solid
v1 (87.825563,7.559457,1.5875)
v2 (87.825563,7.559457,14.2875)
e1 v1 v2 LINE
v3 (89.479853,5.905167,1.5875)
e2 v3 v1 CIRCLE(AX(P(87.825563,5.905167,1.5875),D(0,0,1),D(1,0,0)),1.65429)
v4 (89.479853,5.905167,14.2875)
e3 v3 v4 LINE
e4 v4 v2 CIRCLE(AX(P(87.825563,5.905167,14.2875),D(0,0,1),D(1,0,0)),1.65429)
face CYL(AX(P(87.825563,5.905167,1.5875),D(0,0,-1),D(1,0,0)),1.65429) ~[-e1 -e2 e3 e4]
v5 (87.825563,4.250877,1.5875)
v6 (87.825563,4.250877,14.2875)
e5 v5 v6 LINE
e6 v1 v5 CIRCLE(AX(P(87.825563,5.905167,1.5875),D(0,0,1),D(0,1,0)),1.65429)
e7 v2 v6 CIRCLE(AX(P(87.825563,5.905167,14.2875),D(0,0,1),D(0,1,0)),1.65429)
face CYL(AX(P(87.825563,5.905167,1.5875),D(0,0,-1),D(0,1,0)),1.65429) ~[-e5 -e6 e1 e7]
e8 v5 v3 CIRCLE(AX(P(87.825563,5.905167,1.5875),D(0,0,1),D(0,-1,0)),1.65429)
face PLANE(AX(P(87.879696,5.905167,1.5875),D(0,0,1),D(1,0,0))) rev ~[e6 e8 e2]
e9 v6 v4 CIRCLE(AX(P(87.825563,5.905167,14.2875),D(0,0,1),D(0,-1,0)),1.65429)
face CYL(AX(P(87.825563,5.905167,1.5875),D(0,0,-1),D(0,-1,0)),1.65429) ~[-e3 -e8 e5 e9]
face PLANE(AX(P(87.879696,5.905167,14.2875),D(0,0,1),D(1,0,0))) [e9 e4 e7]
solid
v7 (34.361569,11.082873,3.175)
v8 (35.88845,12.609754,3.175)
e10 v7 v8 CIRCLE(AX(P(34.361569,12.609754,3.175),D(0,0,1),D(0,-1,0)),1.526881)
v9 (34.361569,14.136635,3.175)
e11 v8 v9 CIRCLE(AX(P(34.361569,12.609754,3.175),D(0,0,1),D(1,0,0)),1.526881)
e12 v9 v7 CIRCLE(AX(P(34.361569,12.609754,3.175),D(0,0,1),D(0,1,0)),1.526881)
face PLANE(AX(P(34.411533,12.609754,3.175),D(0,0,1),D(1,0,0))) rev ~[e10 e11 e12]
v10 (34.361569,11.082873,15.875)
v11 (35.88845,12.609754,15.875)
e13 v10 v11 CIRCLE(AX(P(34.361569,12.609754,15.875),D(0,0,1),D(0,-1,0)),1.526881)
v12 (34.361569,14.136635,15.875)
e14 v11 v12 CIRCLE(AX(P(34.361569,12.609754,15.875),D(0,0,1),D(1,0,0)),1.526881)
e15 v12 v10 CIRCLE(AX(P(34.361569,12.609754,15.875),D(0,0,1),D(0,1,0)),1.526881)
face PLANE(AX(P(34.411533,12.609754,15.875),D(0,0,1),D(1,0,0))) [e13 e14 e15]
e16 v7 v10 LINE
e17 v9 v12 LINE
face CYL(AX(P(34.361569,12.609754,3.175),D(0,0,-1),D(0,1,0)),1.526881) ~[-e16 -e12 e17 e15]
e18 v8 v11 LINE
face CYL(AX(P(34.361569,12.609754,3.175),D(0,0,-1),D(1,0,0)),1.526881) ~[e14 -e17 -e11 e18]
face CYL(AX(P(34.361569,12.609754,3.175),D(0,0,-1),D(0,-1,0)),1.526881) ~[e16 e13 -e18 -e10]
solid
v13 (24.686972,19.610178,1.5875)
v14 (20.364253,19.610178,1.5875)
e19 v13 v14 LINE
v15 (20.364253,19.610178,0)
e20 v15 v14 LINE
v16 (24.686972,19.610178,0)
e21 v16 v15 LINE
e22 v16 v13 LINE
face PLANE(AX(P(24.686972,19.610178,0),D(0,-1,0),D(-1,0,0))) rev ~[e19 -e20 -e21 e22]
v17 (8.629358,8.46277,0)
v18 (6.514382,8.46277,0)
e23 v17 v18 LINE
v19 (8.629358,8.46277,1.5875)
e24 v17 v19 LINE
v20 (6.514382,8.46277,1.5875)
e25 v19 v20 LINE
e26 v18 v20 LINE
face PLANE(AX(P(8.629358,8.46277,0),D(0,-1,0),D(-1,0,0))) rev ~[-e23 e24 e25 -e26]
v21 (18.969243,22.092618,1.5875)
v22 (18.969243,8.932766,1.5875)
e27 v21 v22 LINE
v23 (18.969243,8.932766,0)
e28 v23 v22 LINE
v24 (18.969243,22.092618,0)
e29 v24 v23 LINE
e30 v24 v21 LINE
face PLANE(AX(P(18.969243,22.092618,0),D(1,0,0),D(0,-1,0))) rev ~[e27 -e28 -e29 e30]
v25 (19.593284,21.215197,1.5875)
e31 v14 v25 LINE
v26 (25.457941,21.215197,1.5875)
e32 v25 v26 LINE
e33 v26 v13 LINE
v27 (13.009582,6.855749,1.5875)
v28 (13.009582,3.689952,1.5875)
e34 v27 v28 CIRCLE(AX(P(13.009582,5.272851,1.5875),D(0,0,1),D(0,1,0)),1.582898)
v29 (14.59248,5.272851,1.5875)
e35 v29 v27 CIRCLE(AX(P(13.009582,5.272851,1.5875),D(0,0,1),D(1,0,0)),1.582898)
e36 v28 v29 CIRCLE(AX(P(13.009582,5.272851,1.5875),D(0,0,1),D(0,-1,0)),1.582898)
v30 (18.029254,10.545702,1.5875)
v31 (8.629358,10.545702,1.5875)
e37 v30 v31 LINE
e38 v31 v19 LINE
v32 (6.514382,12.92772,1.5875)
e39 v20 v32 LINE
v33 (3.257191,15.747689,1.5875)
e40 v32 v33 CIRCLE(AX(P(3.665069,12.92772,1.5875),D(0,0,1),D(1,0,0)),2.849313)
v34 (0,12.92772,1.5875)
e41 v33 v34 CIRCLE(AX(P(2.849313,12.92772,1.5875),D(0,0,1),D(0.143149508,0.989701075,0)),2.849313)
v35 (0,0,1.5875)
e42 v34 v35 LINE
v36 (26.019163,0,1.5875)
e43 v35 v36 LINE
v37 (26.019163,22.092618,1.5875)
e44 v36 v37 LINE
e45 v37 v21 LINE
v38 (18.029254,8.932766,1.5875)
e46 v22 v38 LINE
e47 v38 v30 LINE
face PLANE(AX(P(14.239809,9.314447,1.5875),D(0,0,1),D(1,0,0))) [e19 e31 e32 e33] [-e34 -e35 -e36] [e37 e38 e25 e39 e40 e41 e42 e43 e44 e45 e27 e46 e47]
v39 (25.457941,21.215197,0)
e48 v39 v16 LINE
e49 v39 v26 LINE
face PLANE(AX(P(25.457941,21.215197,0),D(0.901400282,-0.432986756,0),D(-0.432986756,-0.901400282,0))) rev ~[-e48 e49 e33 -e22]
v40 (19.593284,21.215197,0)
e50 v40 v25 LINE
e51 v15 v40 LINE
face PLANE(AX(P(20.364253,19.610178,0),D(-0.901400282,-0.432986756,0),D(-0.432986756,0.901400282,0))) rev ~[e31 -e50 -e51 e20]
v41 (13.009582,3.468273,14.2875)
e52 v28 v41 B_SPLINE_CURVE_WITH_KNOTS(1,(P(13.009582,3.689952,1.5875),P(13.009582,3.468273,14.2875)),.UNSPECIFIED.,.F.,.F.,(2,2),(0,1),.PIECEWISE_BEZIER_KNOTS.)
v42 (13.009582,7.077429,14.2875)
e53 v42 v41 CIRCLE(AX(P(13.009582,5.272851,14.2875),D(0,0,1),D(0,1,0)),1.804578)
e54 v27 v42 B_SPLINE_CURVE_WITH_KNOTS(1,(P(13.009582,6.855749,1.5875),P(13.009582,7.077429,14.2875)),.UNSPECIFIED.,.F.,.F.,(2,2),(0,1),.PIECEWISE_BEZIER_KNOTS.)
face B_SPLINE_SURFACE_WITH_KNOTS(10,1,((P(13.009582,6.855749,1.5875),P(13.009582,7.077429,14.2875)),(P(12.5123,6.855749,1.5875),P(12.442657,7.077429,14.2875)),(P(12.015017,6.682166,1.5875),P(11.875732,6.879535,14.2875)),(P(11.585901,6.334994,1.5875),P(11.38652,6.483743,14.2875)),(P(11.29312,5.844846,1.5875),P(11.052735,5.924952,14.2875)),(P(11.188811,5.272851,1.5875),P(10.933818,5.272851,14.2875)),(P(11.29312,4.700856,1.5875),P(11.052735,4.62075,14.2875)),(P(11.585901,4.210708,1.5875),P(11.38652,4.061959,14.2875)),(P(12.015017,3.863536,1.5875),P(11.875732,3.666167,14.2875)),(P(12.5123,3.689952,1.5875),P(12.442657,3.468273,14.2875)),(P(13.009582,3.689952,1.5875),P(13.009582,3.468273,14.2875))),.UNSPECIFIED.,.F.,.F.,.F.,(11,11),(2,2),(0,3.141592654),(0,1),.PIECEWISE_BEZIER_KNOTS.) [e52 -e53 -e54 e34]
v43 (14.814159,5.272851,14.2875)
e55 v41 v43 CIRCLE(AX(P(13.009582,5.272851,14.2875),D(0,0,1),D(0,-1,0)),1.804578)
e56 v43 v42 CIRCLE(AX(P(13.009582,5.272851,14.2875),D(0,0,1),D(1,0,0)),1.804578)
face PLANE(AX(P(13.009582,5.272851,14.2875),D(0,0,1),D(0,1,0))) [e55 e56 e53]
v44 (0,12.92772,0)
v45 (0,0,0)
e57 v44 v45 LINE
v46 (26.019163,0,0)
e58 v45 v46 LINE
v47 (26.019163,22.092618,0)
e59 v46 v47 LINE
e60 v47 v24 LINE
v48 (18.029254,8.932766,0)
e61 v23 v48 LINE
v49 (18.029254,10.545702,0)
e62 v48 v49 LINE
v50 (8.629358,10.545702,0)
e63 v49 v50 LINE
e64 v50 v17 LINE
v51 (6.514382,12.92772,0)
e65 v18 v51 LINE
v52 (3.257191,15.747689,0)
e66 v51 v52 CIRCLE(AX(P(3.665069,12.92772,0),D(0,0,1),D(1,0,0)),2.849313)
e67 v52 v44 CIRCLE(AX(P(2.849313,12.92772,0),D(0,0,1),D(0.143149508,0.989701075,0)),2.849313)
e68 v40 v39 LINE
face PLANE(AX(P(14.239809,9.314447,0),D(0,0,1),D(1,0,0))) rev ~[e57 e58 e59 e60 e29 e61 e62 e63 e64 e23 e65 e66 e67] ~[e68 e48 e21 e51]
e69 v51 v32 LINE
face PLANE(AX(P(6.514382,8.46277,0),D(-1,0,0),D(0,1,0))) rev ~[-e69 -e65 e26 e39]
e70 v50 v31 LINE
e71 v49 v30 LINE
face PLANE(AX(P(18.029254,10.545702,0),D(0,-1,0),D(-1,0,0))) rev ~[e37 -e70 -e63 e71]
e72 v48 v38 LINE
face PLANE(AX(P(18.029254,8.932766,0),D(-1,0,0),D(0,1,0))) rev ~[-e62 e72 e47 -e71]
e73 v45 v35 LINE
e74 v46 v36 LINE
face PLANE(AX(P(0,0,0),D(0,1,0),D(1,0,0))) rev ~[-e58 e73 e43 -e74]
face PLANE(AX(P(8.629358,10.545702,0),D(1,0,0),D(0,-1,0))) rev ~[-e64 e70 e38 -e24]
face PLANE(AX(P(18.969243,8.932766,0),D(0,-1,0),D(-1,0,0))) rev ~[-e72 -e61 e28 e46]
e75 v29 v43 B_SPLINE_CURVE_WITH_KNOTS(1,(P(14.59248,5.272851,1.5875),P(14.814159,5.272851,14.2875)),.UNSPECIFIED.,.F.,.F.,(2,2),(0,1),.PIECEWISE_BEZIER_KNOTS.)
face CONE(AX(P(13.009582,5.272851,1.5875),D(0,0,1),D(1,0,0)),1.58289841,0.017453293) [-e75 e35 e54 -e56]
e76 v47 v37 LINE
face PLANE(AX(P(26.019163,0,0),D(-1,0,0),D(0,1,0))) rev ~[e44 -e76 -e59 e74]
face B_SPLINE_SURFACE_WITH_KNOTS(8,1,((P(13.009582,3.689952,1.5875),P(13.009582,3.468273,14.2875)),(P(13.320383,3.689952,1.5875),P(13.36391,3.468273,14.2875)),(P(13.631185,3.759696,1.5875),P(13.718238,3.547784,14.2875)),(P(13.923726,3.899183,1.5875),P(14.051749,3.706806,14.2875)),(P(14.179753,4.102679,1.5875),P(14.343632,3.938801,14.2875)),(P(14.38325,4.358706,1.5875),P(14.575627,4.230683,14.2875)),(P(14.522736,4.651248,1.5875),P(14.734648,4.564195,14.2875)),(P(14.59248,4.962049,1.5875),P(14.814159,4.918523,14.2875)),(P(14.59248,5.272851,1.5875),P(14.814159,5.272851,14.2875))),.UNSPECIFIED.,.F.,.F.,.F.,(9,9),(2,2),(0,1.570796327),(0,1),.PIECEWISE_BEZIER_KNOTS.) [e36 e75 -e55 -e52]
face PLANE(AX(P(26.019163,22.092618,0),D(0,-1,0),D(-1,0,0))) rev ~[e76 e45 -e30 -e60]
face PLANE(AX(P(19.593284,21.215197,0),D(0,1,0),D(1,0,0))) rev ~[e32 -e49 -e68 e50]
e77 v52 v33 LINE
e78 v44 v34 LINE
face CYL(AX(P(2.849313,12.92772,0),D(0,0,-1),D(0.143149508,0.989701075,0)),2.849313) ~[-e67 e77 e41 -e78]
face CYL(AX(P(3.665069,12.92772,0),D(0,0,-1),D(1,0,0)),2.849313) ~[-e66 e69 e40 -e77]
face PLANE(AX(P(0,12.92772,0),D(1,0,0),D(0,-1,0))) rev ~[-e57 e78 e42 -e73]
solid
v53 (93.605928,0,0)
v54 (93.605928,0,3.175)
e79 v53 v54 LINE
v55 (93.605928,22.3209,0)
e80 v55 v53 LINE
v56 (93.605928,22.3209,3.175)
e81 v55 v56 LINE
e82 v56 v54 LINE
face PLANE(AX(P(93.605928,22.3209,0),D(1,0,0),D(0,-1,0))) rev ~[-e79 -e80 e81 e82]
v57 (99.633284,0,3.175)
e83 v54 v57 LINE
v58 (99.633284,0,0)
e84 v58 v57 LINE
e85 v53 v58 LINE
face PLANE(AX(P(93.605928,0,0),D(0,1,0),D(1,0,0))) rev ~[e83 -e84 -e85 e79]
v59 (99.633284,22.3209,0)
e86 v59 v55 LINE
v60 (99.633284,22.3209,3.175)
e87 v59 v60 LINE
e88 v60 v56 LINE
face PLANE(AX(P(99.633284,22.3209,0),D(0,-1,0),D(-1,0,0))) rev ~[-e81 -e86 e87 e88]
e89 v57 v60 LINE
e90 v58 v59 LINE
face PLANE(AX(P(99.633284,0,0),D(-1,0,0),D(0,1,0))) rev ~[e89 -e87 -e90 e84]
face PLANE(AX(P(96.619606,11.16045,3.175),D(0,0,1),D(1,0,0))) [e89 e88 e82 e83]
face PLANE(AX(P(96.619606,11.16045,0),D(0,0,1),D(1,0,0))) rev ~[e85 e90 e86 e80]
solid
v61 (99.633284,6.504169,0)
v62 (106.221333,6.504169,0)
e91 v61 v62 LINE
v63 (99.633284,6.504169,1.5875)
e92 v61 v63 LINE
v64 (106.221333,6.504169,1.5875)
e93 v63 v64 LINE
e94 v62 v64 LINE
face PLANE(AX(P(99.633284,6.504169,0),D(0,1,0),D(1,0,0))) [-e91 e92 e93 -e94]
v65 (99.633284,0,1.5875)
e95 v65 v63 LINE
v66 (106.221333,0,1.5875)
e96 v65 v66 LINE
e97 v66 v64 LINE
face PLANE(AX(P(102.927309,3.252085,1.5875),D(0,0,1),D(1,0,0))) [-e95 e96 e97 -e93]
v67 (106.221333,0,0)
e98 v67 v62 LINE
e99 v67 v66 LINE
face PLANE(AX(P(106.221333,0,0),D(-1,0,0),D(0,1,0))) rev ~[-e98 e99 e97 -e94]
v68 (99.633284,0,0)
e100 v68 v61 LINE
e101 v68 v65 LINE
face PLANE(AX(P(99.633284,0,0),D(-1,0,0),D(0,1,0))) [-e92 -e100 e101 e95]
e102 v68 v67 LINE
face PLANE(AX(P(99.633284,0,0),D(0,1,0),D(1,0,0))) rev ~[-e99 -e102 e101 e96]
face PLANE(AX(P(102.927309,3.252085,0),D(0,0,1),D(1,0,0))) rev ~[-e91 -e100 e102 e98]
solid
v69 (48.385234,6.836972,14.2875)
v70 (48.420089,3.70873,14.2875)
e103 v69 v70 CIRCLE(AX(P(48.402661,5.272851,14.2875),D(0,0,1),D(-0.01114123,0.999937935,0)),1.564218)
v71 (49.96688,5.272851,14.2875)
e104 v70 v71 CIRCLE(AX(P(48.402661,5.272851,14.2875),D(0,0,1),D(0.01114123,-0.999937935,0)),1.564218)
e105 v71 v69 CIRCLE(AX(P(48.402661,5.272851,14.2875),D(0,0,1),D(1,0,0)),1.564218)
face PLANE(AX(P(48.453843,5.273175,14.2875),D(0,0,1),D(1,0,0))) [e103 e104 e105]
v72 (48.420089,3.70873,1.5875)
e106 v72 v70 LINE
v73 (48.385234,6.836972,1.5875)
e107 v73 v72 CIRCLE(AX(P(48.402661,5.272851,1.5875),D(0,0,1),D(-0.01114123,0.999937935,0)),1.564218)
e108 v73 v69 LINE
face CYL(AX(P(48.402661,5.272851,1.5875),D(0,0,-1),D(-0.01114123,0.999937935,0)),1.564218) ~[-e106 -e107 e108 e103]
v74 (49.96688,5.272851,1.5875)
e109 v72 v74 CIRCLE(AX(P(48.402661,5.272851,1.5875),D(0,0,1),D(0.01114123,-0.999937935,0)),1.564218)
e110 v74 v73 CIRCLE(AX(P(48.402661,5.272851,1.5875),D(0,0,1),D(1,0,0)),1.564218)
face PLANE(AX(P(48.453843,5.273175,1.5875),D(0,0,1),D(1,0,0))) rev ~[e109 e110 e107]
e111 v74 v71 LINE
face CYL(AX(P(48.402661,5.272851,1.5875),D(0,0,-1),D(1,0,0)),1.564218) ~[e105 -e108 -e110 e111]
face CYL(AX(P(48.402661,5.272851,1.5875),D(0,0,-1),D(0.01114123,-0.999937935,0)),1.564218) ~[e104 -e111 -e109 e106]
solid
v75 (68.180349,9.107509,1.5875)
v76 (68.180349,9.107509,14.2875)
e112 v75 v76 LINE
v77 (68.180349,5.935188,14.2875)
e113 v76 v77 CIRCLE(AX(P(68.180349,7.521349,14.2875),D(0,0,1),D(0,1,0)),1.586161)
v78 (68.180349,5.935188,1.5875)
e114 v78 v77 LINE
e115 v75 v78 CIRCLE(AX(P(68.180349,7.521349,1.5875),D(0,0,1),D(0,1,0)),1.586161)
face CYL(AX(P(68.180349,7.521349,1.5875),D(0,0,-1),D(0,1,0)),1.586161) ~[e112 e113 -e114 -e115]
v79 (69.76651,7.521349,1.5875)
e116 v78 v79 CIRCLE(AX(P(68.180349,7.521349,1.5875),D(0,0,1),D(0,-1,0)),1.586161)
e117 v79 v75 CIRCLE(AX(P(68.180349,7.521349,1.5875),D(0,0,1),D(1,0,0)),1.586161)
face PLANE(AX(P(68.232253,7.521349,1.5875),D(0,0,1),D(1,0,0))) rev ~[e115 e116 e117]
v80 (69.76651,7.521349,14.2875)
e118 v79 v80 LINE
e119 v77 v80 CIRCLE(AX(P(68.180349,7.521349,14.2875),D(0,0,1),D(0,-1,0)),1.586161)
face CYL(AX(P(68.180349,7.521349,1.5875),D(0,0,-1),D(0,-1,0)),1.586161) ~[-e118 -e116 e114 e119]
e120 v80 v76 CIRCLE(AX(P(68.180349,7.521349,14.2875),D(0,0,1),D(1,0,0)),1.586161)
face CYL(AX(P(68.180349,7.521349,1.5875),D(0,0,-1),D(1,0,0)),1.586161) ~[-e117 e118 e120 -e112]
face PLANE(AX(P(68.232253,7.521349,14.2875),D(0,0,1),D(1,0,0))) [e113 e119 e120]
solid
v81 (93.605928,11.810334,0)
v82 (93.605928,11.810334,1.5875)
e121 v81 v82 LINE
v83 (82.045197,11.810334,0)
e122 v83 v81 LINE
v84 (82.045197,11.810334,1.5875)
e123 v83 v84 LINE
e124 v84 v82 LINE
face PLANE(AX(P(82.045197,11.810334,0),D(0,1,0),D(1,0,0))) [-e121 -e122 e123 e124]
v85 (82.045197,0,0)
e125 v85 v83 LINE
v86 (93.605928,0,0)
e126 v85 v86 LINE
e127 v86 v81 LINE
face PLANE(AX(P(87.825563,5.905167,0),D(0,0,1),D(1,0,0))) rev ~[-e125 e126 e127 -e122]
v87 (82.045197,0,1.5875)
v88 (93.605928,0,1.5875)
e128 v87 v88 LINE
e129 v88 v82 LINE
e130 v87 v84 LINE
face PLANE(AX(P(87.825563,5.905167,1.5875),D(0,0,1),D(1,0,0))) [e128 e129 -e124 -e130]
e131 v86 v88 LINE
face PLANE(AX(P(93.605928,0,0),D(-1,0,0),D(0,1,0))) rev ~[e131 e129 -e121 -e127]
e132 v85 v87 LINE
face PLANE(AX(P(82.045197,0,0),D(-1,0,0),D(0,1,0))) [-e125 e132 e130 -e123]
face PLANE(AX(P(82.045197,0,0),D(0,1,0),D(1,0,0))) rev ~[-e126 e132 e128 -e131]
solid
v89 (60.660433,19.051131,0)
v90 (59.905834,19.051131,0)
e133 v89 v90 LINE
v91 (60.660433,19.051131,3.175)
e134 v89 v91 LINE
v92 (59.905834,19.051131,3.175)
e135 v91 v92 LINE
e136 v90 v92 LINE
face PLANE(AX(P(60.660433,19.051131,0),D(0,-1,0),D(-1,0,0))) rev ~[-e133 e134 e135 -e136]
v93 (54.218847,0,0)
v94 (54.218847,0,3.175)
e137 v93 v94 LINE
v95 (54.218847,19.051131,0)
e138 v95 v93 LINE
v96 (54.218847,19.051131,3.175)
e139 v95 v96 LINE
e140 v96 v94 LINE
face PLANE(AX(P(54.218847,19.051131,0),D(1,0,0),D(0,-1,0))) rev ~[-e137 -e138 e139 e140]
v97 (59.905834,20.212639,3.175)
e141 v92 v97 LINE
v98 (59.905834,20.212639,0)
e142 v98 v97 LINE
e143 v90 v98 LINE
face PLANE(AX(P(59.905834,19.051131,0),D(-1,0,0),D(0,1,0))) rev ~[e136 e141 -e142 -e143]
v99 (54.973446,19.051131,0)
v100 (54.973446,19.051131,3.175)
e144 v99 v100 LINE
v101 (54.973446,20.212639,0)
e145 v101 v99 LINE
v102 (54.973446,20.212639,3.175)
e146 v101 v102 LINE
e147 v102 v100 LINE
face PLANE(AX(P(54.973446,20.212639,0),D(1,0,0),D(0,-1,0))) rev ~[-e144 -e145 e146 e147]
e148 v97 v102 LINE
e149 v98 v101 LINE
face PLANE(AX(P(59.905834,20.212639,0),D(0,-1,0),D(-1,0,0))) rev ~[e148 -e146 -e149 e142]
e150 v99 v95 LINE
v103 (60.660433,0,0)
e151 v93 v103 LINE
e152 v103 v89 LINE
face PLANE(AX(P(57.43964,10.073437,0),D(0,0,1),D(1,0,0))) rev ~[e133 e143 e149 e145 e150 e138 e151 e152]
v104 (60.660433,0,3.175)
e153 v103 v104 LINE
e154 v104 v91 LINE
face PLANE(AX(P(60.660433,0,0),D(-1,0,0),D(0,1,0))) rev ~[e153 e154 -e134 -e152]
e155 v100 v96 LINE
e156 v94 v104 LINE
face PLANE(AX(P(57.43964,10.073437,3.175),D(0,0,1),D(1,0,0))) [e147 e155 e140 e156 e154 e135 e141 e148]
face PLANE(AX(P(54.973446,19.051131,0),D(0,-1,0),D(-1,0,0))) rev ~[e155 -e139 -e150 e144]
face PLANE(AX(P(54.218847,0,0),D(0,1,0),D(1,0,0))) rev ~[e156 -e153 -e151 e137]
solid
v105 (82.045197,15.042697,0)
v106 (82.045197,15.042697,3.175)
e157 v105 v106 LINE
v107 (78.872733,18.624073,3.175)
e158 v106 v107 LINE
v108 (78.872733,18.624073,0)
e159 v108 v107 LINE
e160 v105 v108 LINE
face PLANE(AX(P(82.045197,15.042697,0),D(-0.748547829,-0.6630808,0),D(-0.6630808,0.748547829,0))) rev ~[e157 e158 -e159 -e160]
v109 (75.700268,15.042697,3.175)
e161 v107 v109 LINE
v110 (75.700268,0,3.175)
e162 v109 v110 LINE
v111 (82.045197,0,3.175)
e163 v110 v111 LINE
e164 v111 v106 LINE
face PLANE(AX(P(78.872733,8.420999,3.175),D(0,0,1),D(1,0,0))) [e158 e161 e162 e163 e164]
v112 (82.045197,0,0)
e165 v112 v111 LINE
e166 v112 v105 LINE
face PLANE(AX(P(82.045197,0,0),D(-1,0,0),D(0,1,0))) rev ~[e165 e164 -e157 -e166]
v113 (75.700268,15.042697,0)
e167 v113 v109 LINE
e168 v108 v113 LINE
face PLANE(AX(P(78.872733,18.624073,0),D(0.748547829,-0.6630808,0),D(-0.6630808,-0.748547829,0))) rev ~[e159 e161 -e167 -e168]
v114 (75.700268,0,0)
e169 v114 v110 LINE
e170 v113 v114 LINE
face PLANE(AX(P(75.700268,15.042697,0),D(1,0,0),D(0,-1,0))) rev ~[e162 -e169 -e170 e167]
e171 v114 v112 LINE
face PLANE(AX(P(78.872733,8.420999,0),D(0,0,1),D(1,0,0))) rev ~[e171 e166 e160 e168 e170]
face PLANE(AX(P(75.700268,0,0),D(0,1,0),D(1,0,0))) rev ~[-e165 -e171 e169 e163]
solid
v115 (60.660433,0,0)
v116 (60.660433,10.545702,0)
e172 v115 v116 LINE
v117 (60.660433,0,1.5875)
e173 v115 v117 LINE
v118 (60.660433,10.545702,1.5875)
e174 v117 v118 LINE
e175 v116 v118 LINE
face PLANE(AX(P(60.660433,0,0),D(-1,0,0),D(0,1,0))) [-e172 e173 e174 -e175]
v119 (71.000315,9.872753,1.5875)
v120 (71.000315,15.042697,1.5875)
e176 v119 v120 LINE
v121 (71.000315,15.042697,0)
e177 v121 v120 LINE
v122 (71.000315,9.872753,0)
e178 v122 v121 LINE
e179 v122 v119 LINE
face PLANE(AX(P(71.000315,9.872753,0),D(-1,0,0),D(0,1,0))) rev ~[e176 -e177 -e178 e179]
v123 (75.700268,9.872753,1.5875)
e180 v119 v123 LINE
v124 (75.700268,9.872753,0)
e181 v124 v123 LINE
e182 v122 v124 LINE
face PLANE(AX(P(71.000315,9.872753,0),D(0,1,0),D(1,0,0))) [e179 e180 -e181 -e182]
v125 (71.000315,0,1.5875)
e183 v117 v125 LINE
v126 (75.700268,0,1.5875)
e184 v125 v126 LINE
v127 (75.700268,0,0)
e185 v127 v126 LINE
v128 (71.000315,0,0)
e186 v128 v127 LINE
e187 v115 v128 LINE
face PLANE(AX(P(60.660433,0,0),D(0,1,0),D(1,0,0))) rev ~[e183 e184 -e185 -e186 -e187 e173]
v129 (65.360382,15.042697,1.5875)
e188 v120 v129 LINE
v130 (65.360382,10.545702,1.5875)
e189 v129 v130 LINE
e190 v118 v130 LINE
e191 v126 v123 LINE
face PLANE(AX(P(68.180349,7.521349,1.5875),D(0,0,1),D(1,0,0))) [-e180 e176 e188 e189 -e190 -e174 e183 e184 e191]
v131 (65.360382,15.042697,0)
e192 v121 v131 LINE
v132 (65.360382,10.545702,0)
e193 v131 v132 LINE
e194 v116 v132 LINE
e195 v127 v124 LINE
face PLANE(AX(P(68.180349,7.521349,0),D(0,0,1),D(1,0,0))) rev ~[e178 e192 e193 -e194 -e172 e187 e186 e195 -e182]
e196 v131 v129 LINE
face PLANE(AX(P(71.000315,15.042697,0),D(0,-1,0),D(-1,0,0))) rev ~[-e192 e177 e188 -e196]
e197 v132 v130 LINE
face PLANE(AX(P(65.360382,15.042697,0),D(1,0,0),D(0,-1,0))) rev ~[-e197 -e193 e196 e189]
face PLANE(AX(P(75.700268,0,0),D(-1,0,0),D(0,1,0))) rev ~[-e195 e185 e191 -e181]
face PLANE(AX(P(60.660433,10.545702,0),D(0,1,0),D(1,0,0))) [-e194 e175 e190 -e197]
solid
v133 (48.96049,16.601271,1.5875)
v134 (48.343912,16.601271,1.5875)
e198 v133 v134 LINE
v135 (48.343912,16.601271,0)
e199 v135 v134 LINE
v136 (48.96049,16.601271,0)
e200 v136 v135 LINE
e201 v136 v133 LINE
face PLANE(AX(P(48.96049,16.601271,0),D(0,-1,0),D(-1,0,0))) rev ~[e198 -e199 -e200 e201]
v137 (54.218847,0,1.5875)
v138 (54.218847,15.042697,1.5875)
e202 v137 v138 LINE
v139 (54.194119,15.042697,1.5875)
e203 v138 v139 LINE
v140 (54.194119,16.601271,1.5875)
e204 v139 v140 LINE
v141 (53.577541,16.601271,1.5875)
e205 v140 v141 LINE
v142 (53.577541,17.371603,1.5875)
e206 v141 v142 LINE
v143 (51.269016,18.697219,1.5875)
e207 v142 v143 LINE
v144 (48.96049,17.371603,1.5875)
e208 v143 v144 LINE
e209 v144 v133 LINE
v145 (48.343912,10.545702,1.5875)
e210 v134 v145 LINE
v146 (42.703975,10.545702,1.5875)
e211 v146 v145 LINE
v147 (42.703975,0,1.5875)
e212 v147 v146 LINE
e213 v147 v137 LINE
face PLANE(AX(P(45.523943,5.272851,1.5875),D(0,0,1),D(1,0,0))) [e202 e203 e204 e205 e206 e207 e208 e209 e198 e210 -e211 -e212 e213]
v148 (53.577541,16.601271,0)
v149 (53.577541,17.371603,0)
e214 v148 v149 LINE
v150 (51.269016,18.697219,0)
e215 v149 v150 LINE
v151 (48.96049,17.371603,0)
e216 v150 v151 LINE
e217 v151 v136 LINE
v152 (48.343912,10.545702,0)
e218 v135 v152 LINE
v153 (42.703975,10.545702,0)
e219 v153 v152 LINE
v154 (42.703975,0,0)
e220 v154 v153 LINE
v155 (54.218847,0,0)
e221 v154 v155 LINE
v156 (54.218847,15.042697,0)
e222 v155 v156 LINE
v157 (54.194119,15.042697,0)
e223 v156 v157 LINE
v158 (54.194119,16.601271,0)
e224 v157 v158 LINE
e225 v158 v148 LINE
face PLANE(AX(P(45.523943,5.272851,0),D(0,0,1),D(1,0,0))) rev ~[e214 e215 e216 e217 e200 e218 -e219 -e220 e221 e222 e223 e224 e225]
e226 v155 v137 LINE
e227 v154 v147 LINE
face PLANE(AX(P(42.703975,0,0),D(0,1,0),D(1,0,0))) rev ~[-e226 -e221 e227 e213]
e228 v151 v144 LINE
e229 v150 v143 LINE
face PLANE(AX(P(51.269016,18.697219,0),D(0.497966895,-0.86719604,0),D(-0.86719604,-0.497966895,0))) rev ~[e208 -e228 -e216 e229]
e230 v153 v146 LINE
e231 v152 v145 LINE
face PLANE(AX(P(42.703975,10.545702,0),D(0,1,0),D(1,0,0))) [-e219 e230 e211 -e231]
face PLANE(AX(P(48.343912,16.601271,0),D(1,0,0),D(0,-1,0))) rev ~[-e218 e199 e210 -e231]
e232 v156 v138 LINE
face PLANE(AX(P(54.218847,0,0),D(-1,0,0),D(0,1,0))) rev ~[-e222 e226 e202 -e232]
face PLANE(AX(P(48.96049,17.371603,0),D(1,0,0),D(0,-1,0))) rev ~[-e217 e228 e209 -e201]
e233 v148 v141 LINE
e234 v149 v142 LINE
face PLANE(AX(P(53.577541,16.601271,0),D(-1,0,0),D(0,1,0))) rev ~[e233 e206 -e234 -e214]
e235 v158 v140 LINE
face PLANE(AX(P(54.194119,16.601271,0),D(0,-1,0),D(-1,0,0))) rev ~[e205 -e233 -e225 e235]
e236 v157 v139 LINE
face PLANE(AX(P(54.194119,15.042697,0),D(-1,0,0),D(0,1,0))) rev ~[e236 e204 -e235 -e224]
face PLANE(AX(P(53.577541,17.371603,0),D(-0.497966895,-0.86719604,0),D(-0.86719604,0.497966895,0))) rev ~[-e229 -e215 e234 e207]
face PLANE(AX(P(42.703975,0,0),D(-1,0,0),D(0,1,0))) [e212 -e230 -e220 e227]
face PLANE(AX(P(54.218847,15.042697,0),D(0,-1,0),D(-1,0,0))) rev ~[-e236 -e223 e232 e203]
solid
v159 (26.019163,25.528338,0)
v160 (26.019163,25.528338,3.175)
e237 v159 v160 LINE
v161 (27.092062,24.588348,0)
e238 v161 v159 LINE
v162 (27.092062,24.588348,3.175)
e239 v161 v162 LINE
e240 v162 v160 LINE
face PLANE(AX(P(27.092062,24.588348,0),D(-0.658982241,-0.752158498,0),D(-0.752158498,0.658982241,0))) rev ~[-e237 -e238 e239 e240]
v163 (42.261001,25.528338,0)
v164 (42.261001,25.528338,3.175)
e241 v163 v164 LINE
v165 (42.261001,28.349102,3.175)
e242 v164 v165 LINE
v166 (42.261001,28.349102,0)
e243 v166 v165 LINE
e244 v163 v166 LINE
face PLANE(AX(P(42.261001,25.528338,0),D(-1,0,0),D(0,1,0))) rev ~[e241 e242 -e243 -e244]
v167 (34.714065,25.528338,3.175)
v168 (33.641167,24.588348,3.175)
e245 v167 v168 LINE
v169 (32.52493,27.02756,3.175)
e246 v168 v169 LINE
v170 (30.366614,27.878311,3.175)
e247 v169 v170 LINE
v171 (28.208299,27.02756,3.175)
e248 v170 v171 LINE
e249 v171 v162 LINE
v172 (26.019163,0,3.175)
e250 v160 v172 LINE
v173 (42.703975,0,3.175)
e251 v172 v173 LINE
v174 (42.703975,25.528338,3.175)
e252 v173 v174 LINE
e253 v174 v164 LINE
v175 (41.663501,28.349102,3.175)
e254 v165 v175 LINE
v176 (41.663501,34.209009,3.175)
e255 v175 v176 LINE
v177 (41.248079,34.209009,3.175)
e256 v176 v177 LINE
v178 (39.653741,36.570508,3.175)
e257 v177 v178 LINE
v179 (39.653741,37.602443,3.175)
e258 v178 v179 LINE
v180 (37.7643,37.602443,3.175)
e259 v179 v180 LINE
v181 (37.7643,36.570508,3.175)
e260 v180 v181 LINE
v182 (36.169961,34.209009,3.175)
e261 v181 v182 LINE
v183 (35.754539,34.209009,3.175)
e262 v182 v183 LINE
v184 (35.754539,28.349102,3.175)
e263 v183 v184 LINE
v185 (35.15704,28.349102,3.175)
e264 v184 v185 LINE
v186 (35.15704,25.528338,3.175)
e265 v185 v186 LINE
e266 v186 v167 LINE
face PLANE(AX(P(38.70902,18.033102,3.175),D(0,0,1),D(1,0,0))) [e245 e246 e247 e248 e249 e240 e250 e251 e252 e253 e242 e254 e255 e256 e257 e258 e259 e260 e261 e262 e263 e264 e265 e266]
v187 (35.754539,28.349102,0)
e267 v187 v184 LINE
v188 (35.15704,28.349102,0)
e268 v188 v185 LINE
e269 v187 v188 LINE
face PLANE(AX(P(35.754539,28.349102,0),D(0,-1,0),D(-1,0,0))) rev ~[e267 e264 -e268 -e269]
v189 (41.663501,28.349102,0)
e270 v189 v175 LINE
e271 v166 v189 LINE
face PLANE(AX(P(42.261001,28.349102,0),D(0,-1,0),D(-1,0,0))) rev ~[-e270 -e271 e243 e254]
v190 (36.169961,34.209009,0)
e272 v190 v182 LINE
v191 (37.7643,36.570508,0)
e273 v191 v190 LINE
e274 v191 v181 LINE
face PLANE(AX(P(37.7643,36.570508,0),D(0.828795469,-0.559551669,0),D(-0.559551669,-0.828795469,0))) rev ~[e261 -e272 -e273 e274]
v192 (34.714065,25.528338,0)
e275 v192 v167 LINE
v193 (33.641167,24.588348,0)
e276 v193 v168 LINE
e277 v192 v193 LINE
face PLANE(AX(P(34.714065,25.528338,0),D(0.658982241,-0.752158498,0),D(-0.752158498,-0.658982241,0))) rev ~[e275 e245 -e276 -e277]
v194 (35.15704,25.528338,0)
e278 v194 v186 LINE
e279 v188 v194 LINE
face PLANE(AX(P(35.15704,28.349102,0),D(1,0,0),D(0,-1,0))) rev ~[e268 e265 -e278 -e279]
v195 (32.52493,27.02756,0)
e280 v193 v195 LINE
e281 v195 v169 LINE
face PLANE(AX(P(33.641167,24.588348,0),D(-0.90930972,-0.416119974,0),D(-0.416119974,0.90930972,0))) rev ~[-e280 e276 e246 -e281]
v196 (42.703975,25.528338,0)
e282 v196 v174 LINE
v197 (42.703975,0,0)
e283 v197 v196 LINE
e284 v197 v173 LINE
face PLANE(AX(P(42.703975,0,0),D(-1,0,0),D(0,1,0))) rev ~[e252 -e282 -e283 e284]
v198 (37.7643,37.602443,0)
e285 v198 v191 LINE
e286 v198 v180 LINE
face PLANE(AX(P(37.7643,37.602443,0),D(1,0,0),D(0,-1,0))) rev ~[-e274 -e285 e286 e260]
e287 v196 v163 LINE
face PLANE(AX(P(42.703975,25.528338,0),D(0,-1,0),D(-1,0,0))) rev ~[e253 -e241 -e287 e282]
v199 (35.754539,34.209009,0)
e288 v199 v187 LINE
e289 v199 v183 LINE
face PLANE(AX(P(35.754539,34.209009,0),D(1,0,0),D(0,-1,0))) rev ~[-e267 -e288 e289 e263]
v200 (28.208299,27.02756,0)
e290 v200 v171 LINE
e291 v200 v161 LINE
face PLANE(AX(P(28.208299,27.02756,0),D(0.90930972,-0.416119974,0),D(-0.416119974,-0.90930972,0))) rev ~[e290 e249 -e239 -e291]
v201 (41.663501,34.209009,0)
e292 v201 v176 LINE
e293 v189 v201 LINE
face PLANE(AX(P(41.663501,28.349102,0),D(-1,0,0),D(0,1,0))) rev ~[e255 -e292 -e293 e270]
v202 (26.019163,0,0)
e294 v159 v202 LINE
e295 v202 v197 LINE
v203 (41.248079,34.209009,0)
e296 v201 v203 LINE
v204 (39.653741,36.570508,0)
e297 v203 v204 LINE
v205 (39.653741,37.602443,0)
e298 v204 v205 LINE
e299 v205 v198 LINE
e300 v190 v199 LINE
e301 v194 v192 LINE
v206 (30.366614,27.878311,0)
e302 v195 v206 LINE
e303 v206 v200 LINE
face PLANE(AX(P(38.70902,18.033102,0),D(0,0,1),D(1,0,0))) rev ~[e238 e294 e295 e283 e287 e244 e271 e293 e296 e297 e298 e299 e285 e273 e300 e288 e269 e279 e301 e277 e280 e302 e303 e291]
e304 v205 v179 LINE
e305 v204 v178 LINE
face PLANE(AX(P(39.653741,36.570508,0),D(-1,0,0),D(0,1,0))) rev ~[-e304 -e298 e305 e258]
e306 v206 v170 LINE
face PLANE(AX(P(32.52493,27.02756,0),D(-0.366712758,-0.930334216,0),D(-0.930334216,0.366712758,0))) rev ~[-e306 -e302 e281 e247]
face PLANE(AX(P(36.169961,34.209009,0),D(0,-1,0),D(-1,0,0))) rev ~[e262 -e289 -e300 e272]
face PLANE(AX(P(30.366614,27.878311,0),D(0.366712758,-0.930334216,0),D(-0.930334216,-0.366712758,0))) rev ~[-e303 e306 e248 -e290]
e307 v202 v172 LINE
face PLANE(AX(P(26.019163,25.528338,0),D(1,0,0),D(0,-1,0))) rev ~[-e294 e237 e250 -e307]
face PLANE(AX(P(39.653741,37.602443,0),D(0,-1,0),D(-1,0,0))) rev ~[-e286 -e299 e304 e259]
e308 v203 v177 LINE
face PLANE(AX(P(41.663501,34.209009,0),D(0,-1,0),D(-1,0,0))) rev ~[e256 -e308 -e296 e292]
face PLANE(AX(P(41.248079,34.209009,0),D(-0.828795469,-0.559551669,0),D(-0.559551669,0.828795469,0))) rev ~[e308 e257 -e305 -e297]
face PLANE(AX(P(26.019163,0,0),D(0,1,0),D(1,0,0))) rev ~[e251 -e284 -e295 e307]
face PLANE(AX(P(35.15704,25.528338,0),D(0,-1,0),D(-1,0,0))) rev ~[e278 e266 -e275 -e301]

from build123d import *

# Parameters (mm, degrees)
F1_DEPTH = 3.175
F2_DEPTH = 1.5875
F0_W     = 5.639936775
F0_H     = 10.5457017198
F0_W_2   = 4.6999491751
F0_W_3   = 4.6999529004
F0_H_2   = 9.8727531731
F0_W_4   = 11.5607306361
F0_H_3   = 11.8103343993
F0_W_5   = 6.588049233
F0_H_4   = 6.5041691996
F8_DEPTH = 12.7
F8_TAPER = -1
F9_DEPTH = 12.7


with BuildPart() as f1:
    # F0 (on Top) → F1 (new body)
    with BuildSketch(Plane.XY):
        Polygon((34.7140654922, 25.5283378065), (34.7140654922, 0), (42.703974992, 0), (42.703974992, 10.5457017198), (42.703974992, 25.5283378065), (42.2610007226, 25.5283378065), (42.2610007226, 28.3491015434), (41.6635014117, 28.3491015434), (41.6635014117, 34.2090092599), (41.2480793893, 34.2090092599), (39.6537408233, 36.570508033), (39.6537408233, 37.602443248), (38.7090202421, 37.602443248), (37.7642996609, 37.602443248), (37.7642996609, 36.570508033), (36.1699610949, 34.2090092599), (35.7545390725, 34.2090092599), (35.7545390725, 28.3491015434), (35.1570397615, 28.3491015434), (35.1570397615, 25.5283378065), align=None)
        Polygon((26.0191634297, 22.0926180482), (26.0191634297, 0), (34.7140654922, 0), (34.7140654922, 25.5283378065), (33.641166985, 24.588348344), (32.5249303132, 27.027560398), (30.3666144609, 27.8783105314), (28.2082986087, 27.027560398), (27.0920619369, 24.588348344), (26.0191634297, 25.5283378065), align=None)
    extrude(amount=F1_DEPTH)


with BuildPart() as f1b:
    # F0 (on Top) → F1, piece 2 (new body)
    with BuildSketch(Plane.XY):
        Polygon((75.7002681494, 9.8727531731), (75.7002681494, 0), (82.0451974869, 0), (82.0451974869, 11.8103343993), (82.0451974869, 15.0426970795), (78.8727328181, 18.6240728945), (75.7002681494, 15.0426970795), align=None)
    extrude(amount=F1_DEPTH)


with BuildPart() as f1c:
    # F0 (on Top) → F1, piece 3 (new body)
    with BuildSketch(Plane.XY):
        Polygon((93.605928123, 11.8103343993), (93.605928123, 0), (99.6332839131, 0), (99.6332839131, 6.5041691996), (99.6332839131, 22.3209001124), (93.605928123, 22.3209001124), align=None)
    extrude(amount=F1_DEPTH)


with BuildPart() as f1d:
    # F0 (on Top) → F1, piece 4 (new body)
    with BuildSketch(Plane.XY):
        Polygon((54.2188473046, 15.0426970795), (54.2188473046, 0), (60.6604330242, 0), (60.6604330242, 10.5457017198), (60.6604330242, 15.0426970795), (60.6604330242, 19.051130861), (59.905834496, 19.051130861), (59.905834496, 20.2126391232), (54.9734458327, 20.2126391232), (54.9734458327, 19.051130861), (54.2188473046, 19.051130861), align=None)
    extrude(amount=F1_DEPTH)


with BuildPart() as f2:
    # F0 (on Top) → F2 (new body)
    with BuildSketch(Plane.XY):
        with BuildLine():
            Line((0, 12.9277203232), (0, 0))
            Line((0, 0), (5.3393961862, 0))
            Line((5.3393961862, 0), (6.514382083, 0))
            Line((6.514382083, 0), (8.6293583736, 0))
            Line((8.6293583736, 0), (16.6192688048, 0))
            Line((16.6192688048, 0), (18.0292539299, 0))
            Line((18.0292539299, 0), (18.9692433923, 0))
            Line((18.9692433923, 0), (26.0191634297, 0))
            Line((26.0191634297, 0), (26.0191634297, 22.0926180482))
            Line((26.0191634297, 22.0926180482), (18.9692433923, 22.0926180482))
            Line((18.9692433923, 22.0926180482), (18.9692433923, 8.9327655733))
            Line((18.9692433923, 8.9327655733), (18.0292539299, 8.9327655733))
            Line((18.0292539299, 8.9327655733), (18.0292539299, 10.5457017198))
            Line((18.0292539299, 10.5457017198), (8.6293583736, 10.5457017198))
            Line((8.6293583736, 10.5457017198), (8.6293583736, 8.4627699107))
            Line((8.6293583736, 8.4627699107), (6.514382083, 8.4627699107))
            Line((6.514382083, 8.4627699107), (6.514382083, 12.9277203232))
            ThreePointArc((6.514382083, 12.9277203232), (5.530064061, 15.0818741703), (3.2571910415, 15.7476887107))
            ThreePointArc((3.2571910415, 15.7476887107), (0.984318022, 15.0818741703), (0, 12.9277203232))
        make_face()
        Polygon((20.3642528504, 19.6101777256), (19.593283534, 21.2151966989), (25.4579409957, 21.2151966989), (24.6869716793, 19.6101777256), align=None, mode=Mode.SUBTRACT)
    extrude(amount=F2_DEPTH)

    # F3 (on face) → F8 (join)
    with BuildSketch(Plane.XY.offset(1.5875)):
        with BuildLine():
            ThreePointArc((13.0095817149, 6.8557492698), (11.426683305, 5.2728508599), (13.0095817149, 3.68995245))
            ThreePointArc((13.0095817149, 3.68995245), (14.1288599144, 4.1535726604), (14.5924801248, 5.2728508599))
            ThreePointArc((14.5924801248, 5.2728508599), (14.1288599144, 6.3921290595), (13.0095817149, 6.8557492698))
        make_face()
    extrude(amount=F8_DEPTH, taper=F8_TAPER)


with BuildPart() as f2b:
    # F0 (on Top) → F2, piece 2 (new body)
    with BuildSketch(Plane.XY):
        with Locations((45.5239433795, 5.2728508599)):
            Rectangle(F0_W, F0_H)
        Polygon((48.343911767, 10.5457017198), (48.343911767, 0), (54.2188473046, 0), (54.2188473046, 15.0426970795), (54.1941193212, 15.0426970795), (54.1941193212, 16.6012711681), (53.5775407698, 16.6012711681), (53.5775407698, 17.3716027477), (51.2690155441, 18.6972189695), (48.9604903184, 17.3716027477), (48.9604903184, 16.6012711681), (48.343911767, 16.6012711681), (48.343911767, 15.0426970795), align=None)
    extrude(amount=F2_DEPTH)


with BuildPart() as f2c:
    # F0 (on Top) → F2, piece 3 (new body)
    with BuildSketch(Plane.XY):
        Polygon((65.3603821993, 10.5457017198), (65.3603821993, 0), (71.000315249, 0), (71.000315249, 9.8727531731), (71.000315249, 15.0426970795), (65.3603821993, 15.0426970795), align=None)
        with Locations((63.0104076117, 5.2728508599)):
            Rectangle(F0_W_2, F0_H)
        with Locations((73.3502916992, 4.9363765866)):
            Rectangle(F0_W_3, F0_H_2)
    extrude(amount=F2_DEPTH)


with BuildPart() as f2d:
    # F0 (on Top) → F2, piece 4 (new body)
    with BuildSketch(Plane.XY):
        with Locations((87.8255628049, 5.9051671997)):
            Rectangle(F0_W_4, F0_H_3)
    extrude(amount=F2_DEPTH)


with BuildPart() as f2e:
    # F0 (on Top) → F2, piece 5 (new body)
    with BuildSketch(Plane.XY):
        with Locations((102.9273085296, 3.2520845998)):
            Rectangle(F0_W_5, F0_H_4)
    extrude(amount=F2_DEPTH)


with BuildPart() as f9:
    # F4 (on face) → F9 (new body)
    with BuildSketch(Plane.XY.offset(3.175)):
        with BuildLine():
            ThreePointArc((34.3615692109, 14.1366351541), (32.8346881725, 12.6097541157), (34.3615692109, 11.0828730774))
            ThreePointArc((34.3615692109, 11.0828730774), (35.4412371472, 11.5300861795), (35.8884502492, 12.6097541157))
            ThreePointArc((35.8884502492, 12.6097541157), (35.4412371472, 13.689422052), (34.3615692109, 14.1366351541))
        make_face()
    extrude(amount=F9_DEPTH)


with BuildPart() as f9b:
    # F5 (on face) → F9, piece 2 (new body)
    with BuildSketch(Plane.XY.offset(1.5875)):
        with BuildLine():
            ThreePointArc((48.3852341409, 6.8369721577), (46.8385401599, 5.2554235431), (48.4200887745, 3.7087295621))
            ThreePointArc((48.4200887745, 3.7087295621), (49.5148753028, 4.1729601798), (49.9668798393, 5.2728508599))
            ThreePointArc((49.9668798393, 5.2728508599), (49.5025521377, 6.3850647051), (48.3852341409, 6.8369721577))
        make_face()
    extrude(amount=F9_DEPTH)


with BuildPart() as f9c:
    # F6 (on face) → F9, piece 3 (new body)
    with BuildSketch(Plane.XY.offset(1.5875)):
        with BuildLine():
            ThreePointArc((68.1803487241, 9.1075093619), (66.5941879019, 7.5213485397), (68.1803487241, 5.9351877175))
            ThreePointArc((68.1803487241, 5.9351877175), (69.3019337976, 6.3997634663), (69.7665095463, 7.5213485397))
            ThreePointArc((69.7665095463, 7.5213485397), (69.3019337976, 8.6429336132), (68.1803487241, 9.1075093619))
        make_face()
    extrude(amount=F9_DEPTH)


with BuildPart() as f9d:
    # F7 (on face) → F9, piece 4 (new body)
    with BuildSketch(Plane.XY.offset(1.5875)):
        with BuildLine():
            ThreePointArc((87.8255628049, 7.5594574065), (86.1712725981, 5.9051671997), (87.8255628049, 4.2508769928))
            ThreePointArc((87.8255628049, 4.2508769928), (88.9953226282, 4.7354073764), (89.4798530118, 5.9051671997))
            ThreePointArc((89.4798530118, 5.9051671997), (88.9953226282, 7.074927023), (87.8255628049, 7.5594574065))
        make_face()
    extrude(amount=F9_DEPTH)


solid = Compound([f1.part, f1b.part, f1c.part, f1d.part, f2.part, f2b.part, f2c.part, f2d.part, f2e.part, f9.part, f9b.part, f9c.part, f9d.part])
